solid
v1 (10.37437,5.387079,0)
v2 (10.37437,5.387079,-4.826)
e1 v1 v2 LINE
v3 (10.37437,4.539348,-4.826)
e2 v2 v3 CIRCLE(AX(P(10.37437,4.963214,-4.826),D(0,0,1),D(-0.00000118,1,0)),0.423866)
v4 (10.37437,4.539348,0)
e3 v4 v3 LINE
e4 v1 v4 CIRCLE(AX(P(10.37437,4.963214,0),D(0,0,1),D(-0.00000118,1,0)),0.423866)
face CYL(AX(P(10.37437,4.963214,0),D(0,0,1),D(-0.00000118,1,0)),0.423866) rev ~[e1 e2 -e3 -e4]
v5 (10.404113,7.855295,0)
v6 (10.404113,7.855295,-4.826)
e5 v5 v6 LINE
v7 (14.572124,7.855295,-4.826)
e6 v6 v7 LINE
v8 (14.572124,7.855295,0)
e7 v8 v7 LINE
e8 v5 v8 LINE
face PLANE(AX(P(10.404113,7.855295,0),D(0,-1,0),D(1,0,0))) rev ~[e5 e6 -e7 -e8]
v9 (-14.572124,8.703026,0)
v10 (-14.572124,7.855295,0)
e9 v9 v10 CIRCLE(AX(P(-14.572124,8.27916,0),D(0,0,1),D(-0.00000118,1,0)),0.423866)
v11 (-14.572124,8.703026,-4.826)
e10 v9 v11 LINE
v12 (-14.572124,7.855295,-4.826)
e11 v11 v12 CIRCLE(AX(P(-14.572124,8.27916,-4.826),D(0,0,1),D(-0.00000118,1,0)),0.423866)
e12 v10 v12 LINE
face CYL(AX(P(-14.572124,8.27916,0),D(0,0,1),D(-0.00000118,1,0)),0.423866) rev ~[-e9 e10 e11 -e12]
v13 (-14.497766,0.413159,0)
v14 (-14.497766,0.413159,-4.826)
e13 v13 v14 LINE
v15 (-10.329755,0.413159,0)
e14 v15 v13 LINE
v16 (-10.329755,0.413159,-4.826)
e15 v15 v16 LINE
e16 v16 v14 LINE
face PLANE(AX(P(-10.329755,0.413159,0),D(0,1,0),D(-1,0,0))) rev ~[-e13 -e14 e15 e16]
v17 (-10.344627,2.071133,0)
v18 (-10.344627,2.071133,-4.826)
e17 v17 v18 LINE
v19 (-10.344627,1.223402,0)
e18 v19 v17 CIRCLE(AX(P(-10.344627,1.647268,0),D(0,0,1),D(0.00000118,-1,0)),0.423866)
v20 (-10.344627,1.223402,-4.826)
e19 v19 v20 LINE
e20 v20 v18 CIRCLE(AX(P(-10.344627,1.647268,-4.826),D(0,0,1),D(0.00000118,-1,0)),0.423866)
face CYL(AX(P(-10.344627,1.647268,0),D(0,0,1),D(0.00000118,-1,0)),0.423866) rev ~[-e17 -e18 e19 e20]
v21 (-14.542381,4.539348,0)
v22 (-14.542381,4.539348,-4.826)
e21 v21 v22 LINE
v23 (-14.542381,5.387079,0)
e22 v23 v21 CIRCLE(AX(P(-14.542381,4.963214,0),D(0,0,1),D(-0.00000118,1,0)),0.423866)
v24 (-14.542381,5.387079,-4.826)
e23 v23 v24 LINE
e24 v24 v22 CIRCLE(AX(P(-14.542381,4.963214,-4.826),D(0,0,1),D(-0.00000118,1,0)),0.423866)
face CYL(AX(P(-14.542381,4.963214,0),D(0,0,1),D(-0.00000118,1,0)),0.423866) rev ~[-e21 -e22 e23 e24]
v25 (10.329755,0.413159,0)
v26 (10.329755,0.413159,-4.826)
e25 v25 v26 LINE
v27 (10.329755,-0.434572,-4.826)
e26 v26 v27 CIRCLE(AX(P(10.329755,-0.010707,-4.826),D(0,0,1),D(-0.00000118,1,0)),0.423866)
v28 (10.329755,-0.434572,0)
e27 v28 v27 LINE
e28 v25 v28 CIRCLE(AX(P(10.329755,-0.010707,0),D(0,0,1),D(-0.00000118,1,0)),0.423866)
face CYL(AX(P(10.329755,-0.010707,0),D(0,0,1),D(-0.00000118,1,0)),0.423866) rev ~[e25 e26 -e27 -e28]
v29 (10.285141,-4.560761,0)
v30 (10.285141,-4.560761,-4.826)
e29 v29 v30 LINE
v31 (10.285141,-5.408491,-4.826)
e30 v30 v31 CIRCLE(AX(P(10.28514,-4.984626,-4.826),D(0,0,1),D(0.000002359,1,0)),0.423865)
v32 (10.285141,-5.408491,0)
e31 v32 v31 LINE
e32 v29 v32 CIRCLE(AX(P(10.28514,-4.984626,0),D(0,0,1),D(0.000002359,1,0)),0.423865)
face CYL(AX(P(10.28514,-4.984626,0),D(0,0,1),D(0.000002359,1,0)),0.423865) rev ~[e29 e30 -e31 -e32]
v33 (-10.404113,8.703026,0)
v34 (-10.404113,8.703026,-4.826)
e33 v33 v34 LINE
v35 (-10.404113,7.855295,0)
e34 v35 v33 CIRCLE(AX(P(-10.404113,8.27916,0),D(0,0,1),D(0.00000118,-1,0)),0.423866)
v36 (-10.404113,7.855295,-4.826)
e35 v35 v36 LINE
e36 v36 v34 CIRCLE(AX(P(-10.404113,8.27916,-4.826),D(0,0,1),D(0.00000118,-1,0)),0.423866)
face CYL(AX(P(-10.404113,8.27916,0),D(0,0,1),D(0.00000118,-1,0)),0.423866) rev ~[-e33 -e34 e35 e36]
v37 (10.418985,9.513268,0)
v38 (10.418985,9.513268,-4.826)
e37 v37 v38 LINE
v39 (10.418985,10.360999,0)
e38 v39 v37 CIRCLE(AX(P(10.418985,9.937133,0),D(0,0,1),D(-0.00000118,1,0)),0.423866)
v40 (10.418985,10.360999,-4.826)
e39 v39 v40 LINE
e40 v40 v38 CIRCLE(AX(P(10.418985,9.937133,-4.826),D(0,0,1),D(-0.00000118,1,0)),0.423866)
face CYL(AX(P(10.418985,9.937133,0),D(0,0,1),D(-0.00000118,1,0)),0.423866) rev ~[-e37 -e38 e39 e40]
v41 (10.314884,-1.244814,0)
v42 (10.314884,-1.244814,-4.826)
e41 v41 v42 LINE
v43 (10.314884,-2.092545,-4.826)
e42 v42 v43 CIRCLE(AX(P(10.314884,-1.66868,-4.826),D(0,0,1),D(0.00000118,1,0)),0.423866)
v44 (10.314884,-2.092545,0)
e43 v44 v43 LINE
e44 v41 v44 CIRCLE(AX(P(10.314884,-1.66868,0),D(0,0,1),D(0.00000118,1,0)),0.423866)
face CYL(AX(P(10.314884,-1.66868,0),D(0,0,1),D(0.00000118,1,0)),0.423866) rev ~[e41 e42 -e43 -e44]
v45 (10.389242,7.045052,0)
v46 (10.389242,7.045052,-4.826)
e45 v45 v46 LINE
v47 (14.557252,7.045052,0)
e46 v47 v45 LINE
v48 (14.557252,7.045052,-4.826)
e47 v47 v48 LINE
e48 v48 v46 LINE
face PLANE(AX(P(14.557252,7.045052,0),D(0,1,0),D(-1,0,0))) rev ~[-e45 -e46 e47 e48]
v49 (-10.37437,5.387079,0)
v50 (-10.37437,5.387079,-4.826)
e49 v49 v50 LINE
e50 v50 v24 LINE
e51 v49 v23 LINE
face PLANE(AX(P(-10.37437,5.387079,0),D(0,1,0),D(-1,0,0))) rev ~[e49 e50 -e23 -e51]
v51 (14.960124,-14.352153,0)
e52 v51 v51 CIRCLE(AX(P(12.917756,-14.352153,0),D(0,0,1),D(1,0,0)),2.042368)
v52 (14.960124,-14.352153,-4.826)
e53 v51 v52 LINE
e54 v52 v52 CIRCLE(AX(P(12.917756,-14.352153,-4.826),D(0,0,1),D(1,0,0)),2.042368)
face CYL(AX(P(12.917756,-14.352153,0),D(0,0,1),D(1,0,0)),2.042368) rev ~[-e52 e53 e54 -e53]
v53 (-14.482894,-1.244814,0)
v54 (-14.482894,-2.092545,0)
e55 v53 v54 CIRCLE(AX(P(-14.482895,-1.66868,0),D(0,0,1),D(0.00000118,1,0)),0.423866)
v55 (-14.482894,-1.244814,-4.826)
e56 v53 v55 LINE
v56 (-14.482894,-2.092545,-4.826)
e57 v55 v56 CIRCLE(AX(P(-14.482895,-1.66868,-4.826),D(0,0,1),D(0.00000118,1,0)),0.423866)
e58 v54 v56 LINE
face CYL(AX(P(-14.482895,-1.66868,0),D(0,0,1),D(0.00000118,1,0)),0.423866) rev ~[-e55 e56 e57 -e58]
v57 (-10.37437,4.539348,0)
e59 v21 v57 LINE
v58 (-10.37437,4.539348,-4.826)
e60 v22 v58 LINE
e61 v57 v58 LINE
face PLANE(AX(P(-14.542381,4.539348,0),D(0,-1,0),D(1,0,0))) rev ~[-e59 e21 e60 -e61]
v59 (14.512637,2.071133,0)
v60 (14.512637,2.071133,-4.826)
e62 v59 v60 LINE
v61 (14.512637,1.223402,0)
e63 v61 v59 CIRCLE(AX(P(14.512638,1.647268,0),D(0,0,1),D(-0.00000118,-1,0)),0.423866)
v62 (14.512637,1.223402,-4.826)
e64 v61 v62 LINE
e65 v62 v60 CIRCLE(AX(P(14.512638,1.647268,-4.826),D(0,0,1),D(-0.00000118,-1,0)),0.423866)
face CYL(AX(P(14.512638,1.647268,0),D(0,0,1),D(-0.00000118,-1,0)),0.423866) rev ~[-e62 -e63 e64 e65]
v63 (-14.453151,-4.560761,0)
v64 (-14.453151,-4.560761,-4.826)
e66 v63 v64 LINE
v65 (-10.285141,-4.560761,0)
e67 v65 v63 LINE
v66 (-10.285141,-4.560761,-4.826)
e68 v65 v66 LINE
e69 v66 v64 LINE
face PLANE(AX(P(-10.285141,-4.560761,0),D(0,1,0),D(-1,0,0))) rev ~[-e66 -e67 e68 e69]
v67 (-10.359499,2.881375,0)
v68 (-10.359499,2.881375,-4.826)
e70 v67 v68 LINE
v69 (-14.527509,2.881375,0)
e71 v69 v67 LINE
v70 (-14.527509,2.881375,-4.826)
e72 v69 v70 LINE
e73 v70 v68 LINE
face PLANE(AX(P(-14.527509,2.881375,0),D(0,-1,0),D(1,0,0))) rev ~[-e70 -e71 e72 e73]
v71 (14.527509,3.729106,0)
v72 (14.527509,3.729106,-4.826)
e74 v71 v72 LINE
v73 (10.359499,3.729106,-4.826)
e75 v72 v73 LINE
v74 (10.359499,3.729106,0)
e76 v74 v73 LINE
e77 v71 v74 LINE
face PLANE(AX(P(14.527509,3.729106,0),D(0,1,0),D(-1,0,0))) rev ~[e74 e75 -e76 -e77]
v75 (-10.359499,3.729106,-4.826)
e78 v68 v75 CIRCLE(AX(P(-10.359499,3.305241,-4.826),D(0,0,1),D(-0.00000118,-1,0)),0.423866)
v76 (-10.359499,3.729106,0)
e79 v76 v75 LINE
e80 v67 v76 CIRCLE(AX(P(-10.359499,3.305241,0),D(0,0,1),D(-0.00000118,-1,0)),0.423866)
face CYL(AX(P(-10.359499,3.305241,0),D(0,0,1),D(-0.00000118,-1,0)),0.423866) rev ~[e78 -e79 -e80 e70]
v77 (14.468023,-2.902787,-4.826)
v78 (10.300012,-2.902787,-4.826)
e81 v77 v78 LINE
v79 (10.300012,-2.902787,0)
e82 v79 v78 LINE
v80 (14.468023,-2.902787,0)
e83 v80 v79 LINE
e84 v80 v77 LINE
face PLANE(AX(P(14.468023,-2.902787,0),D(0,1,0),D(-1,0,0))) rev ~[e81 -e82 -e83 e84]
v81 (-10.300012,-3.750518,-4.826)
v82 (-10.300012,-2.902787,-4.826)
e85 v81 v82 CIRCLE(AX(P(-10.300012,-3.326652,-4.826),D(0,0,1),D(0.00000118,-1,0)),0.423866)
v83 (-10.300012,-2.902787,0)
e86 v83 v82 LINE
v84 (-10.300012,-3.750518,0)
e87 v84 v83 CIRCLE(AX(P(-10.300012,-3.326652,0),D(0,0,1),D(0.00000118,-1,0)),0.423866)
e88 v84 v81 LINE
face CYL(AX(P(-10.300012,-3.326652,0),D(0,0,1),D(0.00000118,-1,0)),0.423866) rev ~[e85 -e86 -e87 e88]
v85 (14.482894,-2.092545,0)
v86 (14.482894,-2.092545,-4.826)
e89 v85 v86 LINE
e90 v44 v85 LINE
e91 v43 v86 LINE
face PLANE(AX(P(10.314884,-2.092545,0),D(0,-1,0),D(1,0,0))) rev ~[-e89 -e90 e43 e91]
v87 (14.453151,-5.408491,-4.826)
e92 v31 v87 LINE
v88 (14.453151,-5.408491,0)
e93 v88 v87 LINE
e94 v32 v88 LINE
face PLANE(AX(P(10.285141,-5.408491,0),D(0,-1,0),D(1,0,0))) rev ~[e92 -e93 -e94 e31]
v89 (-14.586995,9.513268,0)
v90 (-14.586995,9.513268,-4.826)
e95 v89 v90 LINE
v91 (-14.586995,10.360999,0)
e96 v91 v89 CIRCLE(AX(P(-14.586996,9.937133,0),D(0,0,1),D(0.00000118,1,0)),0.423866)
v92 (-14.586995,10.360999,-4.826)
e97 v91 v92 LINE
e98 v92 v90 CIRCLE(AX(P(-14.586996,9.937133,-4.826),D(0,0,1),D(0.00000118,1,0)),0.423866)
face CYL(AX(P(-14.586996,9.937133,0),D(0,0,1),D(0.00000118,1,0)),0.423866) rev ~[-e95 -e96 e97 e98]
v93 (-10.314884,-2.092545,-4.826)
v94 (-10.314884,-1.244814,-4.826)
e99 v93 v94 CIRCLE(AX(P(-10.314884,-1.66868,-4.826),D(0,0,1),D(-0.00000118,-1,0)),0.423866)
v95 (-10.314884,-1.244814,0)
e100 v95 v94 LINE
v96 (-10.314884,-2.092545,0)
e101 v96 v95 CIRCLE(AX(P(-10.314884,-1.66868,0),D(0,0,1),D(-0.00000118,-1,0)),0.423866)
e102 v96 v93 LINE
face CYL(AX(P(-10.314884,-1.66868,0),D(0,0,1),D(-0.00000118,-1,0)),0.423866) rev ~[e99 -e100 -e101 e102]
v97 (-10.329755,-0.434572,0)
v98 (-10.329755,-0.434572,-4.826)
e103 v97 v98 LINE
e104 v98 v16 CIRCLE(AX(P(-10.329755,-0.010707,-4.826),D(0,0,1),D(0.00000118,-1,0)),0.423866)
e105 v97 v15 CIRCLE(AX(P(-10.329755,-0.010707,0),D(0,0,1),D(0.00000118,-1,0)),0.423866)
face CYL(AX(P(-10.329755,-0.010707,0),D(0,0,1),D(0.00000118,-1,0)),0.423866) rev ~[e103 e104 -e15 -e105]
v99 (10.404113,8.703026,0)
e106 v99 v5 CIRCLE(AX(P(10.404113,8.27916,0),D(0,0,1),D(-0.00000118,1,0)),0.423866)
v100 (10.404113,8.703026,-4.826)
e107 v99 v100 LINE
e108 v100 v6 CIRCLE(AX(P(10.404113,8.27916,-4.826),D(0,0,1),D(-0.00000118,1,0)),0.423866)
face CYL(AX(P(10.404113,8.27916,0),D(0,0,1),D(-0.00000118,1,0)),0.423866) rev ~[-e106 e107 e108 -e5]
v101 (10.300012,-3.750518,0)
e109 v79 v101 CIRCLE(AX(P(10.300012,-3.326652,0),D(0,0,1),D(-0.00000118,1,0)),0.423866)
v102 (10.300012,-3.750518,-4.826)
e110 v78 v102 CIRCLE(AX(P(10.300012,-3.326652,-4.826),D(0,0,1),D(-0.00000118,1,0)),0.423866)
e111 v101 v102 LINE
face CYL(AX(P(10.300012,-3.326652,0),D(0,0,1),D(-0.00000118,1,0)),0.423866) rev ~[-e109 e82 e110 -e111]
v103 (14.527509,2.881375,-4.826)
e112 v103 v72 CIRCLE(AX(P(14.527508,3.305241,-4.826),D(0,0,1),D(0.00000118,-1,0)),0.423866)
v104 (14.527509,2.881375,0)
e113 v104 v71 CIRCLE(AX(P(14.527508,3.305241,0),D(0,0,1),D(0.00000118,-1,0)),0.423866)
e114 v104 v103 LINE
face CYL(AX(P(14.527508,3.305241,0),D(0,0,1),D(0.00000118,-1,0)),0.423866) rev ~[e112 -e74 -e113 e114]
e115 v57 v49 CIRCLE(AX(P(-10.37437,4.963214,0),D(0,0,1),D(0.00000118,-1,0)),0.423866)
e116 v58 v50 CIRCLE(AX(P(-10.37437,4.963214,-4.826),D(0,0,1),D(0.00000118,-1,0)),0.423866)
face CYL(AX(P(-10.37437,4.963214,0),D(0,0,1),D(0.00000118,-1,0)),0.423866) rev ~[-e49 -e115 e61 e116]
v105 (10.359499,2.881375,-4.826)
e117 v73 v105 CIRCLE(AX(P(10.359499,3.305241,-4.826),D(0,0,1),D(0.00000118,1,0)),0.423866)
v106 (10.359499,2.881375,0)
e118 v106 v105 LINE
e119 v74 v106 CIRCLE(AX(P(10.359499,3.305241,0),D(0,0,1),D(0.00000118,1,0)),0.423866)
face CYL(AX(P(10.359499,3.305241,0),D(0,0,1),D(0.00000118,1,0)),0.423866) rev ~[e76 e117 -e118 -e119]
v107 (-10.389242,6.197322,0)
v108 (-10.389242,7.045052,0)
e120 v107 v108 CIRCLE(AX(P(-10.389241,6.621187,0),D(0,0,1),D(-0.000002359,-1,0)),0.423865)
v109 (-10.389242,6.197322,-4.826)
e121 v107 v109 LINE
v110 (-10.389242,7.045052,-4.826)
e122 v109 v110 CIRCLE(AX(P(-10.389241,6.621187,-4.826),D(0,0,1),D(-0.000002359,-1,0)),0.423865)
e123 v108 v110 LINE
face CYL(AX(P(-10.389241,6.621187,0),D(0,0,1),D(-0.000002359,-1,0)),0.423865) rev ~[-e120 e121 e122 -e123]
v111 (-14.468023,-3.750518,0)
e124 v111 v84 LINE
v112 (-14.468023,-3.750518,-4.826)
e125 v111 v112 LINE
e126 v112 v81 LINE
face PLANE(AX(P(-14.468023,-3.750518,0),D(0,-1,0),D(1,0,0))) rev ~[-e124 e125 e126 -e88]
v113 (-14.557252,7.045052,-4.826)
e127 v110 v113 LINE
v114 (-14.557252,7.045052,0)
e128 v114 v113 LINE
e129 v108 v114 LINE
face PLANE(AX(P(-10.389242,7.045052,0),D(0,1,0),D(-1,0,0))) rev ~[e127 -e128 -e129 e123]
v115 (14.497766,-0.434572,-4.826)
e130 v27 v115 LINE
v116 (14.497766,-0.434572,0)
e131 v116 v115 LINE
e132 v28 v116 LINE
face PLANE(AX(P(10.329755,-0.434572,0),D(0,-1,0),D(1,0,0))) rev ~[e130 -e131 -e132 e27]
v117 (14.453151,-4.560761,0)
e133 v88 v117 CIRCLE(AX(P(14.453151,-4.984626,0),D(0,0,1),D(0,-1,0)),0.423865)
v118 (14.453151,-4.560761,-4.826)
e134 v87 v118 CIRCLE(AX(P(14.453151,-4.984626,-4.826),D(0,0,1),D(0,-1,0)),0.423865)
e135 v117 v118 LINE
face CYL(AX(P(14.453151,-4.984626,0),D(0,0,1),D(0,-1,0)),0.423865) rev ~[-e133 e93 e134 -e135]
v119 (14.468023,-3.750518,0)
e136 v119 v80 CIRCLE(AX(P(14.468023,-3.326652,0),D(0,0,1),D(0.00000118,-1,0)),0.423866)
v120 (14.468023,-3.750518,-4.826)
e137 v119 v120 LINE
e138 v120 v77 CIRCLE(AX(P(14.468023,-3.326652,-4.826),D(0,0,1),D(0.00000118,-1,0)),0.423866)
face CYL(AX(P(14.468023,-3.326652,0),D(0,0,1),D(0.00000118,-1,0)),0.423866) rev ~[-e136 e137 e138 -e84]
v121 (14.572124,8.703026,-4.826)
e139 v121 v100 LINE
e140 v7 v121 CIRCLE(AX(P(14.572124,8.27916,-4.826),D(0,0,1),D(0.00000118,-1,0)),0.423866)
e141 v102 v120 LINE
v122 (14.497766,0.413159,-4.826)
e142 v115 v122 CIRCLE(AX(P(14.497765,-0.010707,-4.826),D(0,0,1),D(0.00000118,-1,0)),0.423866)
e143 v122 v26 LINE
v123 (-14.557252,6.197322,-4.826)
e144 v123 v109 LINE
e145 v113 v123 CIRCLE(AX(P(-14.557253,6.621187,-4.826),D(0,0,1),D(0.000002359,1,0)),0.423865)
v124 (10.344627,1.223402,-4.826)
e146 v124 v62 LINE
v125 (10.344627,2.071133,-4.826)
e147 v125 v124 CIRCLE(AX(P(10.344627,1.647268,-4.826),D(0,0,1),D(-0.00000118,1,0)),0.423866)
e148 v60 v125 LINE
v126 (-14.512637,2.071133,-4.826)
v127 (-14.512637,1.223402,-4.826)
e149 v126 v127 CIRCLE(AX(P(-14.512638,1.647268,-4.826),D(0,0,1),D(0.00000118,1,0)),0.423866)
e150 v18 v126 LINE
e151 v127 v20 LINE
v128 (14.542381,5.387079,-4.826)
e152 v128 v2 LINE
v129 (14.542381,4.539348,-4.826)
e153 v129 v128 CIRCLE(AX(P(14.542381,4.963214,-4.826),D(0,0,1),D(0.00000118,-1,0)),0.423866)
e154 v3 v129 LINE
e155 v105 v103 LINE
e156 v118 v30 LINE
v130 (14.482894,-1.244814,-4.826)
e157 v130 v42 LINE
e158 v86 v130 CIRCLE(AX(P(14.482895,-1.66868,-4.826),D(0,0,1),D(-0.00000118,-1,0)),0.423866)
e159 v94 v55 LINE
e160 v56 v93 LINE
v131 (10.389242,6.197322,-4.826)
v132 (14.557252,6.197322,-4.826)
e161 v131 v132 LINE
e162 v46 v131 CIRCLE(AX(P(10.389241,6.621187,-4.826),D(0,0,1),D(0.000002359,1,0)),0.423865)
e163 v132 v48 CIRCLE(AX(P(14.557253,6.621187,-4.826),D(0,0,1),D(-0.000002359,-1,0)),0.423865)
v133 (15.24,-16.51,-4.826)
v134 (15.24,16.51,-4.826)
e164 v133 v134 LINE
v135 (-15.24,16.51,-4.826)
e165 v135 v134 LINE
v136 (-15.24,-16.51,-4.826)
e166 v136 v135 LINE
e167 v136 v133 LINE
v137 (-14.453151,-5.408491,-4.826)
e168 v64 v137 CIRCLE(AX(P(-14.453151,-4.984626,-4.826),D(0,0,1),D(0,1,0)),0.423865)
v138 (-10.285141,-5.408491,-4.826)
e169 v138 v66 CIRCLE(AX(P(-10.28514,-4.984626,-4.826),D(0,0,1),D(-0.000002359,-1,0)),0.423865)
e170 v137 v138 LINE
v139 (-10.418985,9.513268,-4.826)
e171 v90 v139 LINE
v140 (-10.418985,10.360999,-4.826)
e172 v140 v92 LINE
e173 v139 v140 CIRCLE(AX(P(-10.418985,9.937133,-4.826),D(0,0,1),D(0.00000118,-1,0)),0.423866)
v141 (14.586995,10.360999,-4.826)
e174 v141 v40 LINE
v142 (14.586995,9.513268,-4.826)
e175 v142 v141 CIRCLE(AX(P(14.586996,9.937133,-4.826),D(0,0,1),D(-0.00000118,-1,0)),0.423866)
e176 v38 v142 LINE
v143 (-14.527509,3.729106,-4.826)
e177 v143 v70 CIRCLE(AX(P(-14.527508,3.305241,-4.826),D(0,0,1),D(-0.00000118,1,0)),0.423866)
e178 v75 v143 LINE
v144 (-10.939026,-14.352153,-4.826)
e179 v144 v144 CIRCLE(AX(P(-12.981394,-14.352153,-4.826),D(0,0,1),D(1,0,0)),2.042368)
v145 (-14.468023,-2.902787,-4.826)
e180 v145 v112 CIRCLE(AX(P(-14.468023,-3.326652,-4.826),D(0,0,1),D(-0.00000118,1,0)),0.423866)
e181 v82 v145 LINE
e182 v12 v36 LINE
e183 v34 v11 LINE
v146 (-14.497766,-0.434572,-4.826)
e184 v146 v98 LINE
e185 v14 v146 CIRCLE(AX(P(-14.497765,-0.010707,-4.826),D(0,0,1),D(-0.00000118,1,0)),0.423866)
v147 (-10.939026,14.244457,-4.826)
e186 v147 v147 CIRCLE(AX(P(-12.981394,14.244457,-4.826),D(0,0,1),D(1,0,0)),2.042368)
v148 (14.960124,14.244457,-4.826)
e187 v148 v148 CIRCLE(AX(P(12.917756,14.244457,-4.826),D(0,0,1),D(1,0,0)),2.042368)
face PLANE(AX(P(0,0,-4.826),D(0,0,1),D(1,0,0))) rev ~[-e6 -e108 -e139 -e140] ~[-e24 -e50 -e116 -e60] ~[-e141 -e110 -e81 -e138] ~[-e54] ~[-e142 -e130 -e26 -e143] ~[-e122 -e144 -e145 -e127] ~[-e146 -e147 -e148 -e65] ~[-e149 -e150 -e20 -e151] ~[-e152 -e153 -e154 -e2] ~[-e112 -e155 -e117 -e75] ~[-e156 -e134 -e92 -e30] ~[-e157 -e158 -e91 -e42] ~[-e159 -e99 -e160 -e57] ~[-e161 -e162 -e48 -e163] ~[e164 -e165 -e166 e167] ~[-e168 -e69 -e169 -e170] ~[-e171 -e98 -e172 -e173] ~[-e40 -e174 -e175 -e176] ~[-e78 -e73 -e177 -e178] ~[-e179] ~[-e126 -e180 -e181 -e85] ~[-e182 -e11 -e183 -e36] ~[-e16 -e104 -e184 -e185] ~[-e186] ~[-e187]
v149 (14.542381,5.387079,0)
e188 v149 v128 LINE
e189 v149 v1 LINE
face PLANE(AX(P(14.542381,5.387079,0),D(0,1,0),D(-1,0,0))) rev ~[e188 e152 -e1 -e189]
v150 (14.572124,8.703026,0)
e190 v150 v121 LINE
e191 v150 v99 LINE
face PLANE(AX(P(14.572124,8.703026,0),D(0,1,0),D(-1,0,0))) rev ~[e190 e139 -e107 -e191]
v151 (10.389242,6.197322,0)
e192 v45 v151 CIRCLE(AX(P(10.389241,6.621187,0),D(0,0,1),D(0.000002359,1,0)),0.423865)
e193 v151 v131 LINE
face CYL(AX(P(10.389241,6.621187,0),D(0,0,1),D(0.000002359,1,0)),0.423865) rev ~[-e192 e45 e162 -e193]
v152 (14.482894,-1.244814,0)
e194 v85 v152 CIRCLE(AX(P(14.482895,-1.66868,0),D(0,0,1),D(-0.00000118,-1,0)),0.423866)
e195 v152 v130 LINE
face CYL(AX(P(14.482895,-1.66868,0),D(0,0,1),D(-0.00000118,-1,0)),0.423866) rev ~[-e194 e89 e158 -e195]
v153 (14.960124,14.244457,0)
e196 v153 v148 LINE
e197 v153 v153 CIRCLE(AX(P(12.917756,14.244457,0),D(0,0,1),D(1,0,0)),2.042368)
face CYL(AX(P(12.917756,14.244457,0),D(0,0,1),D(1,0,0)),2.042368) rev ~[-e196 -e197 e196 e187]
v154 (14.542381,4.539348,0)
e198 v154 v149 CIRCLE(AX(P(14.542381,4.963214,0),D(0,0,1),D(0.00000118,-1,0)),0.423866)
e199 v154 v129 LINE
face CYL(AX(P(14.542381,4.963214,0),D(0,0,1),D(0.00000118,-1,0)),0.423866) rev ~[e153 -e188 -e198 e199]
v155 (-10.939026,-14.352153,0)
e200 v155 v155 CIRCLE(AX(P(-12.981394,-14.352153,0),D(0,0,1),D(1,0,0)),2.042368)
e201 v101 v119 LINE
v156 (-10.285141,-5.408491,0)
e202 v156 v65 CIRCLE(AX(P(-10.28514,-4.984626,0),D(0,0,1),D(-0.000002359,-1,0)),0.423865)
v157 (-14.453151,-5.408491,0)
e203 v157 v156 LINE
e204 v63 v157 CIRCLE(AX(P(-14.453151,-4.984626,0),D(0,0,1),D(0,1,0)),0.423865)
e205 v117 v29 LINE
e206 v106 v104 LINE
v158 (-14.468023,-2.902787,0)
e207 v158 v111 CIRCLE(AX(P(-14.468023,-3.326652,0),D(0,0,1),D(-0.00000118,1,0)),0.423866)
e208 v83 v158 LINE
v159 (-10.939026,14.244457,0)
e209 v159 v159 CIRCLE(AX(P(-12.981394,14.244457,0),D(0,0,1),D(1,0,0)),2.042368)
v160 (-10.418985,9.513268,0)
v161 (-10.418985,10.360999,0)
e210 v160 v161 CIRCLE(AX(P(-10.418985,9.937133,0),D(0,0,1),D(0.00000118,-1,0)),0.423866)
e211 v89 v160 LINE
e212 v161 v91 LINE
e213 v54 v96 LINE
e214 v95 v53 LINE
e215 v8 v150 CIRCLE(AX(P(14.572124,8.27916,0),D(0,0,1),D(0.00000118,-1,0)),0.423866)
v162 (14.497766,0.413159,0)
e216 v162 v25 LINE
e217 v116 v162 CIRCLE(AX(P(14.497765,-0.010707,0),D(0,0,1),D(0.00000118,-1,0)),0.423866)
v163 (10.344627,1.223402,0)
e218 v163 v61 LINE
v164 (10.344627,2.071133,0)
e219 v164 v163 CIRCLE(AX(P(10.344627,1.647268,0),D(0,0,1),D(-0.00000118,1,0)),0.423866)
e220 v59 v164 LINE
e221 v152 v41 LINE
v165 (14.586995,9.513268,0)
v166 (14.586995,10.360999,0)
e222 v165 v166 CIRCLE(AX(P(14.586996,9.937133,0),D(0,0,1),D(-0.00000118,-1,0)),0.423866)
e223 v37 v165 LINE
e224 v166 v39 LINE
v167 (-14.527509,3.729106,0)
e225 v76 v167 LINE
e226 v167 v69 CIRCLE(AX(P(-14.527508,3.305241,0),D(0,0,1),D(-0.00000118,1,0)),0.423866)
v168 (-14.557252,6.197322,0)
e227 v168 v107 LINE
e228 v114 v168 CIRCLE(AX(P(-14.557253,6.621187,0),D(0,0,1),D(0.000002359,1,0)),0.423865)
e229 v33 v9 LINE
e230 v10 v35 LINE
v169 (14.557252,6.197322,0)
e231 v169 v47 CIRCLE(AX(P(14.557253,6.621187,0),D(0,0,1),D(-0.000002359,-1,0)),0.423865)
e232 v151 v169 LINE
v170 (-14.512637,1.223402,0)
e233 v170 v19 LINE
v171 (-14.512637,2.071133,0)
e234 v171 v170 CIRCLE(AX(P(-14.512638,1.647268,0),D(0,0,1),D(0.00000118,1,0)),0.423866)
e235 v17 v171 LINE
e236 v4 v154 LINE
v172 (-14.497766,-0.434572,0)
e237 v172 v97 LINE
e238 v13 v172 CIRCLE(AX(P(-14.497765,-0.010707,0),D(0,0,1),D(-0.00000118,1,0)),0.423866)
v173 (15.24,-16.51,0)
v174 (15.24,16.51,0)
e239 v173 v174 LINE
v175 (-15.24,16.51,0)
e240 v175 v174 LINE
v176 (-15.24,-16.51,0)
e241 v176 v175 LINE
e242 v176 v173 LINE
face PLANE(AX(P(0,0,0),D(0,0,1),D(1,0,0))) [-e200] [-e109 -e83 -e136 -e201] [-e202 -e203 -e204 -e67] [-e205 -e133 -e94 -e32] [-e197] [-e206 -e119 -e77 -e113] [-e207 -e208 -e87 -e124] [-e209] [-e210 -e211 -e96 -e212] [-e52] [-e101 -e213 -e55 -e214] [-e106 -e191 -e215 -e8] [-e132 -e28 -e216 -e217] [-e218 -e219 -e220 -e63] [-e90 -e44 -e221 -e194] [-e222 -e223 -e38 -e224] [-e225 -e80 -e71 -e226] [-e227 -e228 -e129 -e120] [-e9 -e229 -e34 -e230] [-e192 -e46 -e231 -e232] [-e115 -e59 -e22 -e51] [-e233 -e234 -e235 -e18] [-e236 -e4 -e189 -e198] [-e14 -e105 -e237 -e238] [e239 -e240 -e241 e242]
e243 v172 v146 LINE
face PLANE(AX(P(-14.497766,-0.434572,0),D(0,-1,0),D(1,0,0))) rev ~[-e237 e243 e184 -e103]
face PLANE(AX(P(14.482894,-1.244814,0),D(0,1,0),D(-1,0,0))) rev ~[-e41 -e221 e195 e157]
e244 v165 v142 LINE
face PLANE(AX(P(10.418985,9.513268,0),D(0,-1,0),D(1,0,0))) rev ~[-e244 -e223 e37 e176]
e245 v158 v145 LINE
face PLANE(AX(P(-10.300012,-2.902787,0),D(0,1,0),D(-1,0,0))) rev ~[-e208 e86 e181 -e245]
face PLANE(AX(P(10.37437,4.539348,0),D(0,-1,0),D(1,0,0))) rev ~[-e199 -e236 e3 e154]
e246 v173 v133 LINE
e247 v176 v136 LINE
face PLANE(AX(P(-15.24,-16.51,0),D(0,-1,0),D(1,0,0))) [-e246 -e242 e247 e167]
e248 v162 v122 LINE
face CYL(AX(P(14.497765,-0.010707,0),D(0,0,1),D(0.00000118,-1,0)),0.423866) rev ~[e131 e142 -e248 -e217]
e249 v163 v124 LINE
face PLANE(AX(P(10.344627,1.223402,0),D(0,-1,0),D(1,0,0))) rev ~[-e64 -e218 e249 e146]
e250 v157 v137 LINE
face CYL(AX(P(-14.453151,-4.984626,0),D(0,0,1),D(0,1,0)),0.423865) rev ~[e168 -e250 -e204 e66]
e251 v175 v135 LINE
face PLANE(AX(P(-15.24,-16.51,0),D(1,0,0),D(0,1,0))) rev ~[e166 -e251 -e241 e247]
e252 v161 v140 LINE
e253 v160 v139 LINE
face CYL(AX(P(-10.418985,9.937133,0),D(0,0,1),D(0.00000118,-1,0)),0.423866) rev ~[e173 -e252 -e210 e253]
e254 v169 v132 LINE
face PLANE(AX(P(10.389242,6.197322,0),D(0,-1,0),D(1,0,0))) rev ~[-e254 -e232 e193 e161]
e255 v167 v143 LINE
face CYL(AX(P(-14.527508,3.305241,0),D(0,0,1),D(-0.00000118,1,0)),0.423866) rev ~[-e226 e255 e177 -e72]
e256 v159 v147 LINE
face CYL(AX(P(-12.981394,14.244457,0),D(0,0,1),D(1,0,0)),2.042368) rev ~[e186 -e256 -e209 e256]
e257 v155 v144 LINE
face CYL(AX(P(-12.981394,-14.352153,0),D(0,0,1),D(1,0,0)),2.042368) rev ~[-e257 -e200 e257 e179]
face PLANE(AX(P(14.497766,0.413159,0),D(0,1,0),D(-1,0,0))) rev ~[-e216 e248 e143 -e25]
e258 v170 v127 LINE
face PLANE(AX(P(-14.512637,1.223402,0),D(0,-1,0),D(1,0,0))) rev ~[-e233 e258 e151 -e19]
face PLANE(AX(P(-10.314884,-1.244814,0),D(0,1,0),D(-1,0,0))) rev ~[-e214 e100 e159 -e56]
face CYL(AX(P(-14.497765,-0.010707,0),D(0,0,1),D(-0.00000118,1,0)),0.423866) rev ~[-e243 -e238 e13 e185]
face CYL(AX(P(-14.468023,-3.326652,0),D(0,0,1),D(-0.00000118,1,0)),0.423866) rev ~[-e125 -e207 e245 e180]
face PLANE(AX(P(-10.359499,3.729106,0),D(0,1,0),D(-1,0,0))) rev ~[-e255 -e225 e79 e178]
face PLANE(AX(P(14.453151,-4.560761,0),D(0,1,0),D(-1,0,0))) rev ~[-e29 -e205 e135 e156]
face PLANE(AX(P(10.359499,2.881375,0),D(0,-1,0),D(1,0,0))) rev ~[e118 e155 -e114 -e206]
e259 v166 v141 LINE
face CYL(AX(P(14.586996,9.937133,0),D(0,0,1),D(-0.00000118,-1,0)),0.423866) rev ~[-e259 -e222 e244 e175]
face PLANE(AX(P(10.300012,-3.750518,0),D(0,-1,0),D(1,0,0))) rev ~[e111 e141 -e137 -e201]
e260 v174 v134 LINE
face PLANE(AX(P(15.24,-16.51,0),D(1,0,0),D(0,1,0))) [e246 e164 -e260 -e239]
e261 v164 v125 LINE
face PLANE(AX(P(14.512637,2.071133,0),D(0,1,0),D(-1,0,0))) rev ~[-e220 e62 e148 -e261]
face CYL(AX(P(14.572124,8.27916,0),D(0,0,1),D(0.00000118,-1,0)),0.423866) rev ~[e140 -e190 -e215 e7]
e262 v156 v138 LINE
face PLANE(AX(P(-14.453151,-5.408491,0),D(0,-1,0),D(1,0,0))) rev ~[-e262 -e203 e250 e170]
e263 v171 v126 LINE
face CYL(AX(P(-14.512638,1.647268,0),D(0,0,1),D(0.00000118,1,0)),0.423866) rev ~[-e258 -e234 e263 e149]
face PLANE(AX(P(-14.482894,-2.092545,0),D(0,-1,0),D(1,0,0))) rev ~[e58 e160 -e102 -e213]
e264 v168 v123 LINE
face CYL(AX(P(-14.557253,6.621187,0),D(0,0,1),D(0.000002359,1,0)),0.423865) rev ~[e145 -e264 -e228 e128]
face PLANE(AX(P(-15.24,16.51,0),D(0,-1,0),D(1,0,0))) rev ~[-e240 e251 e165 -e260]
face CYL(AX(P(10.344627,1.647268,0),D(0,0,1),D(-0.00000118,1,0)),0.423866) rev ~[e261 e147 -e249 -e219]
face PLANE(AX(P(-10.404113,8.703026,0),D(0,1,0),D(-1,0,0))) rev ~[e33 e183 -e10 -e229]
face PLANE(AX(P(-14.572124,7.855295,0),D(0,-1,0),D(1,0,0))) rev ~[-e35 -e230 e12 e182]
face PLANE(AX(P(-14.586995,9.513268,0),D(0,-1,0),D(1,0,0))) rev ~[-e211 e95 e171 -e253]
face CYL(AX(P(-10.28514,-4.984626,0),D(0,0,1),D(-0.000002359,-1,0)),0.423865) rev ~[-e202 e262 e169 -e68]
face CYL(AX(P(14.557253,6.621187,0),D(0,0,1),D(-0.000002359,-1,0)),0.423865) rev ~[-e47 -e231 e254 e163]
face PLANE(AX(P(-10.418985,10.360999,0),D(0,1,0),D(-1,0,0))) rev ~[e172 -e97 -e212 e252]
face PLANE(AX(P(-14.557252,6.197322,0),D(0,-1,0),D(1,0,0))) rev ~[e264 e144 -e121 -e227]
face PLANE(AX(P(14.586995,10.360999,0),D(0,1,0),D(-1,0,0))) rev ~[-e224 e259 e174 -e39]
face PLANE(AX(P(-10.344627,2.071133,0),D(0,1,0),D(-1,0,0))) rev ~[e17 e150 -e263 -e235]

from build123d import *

# Parameters (mm, degrees)
F0_W     = 30.48
F0_H     = 33.02
F1_DEPTH = 4.826
F2_R     = 2.042368
F3_DEPTH = 9.33468
F5_DEPTH = 25


with BuildPart() as f1:
    # F0 (on Top) → F1 (new body)
    with BuildSketch(Plane.XY):
        Rectangle(F0_W, F0_H)
    extrude(amount=-F1_DEPTH)

    # F2 (on face) → F3 (cut)
    with BuildSketch(Plane.XY):
        with Locations((-12.981394, 14.244457)):
            Circle(F2_R)
        with Locations((12.917756, 14.244457)):
            Circle(F2_R)
        with Locations((-12.981394, -14.352153)):
            Circle(F2_R)
        with Locations((12.917756, -14.352153)):
            Circle(F2_R)
    extrude(amount=-F3_DEPTH, mode=Mode.SUBTRACT)

    # F4 (on face) → F5 (cut)
    with BuildSketch(Plane.XY):
        with BuildLine():
            Line((-10.418985, 10.360999), (-14.586995, 10.360999))
            ThreePointArc((-14.586995, 10.360999), (-15.010861, 9.937134), (-14.586995, 9.513268))
            Line((-14.586995, 9.513268), (-10.418985, 9.513268))
            ThreePointArc((-10.418985, 9.513268), (-9.99512, 9.937134), (-10.418985, 10.360999))
        make_face()
        with BuildLine():
            Line((-10.404113, 8.703026), (-14.572124, 8.703026))
            ThreePointArc((-14.572124, 8.703026), (-14.995989, 8.27916), (-14.572124, 7.855295))
            Line((-14.572124, 7.855295), (-10.404113, 7.855295))
            ThreePointArc((-10.404113, 7.855295), (-9.980248, 8.27916), (-10.404113, 8.703026))
        make_face()
        with BuildLine():
            Line((-10.389242, 7.045052), (-14.557252, 7.045052))
            ThreePointArc((-14.557252, 7.045052), (-14.981118, 6.621187), (-14.557252, 6.197322))
            Line((-14.557252, 6.197322), (-10.389242, 6.197322))
            ThreePointArc((-10.389242, 6.197322), (-9.965376, 6.621187), (-10.389242, 7.045052))
        make_face()
        with BuildLine():
            Line((-10.37437, 5.387079), (-14.542381, 5.387079))
            ThreePointArc((-14.542381, 5.387079), (-14.966246, 4.963214), (-14.542381, 4.539348))
            Line((-14.542381, 4.539348), (-10.37437, 4.539348))
            ThreePointArc((-10.37437, 4.539348), (-9.950505, 4.963214), (-10.37437, 5.387079))
        make_face()
        with BuildLine():
            Line((-10.359499, 3.729106), (-14.527509, 3.729106))
            ThreePointArc((-14.527509, 3.729106), (-14.951374, 3.30524), (-14.527509, 2.881375))
            Line((-14.527509, 2.881375), (-10.359499, 2.881375))
            ThreePointArc((-10.359499, 2.881375), (-9.935633, 3.30524), (-10.359499, 3.729106))
        make_face()
        with BuildLine():
            Line((-10.344627, 2.071133), (-14.512637, 2.071133))
            ThreePointArc((-14.512637, 2.071133), (-14.936503, 1.647267), (-14.512637, 1.223402))
            Line((-14.512637, 1.223402), (-10.344627, 1.223402))
            ThreePointArc((-10.344627, 1.223402), (-9.920762, 1.647267), (-10.344627, 2.071133))
        make_face()
        with BuildLine():
            Line((-10.329755, 0.413159), (-14.497766, 0.413159))
            ThreePointArc((-14.497766, 0.413159), (-14.921631, -0.010706), (-14.497766, -0.434572))
            Line((-14.497766, -0.434572), (-10.329755, -0.434572))
            ThreePointArc((-10.329755, -0.434572), (-9.90589, -0.010706), (-10.329755, 0.413159))
        make_face()
        with BuildLine():
            Line((-10.314884, -1.244814), (-14.482894, -1.244814))
            ThreePointArc((-14.482894, -1.244814), (-14.90676, -1.668679), (-14.482894, -2.092545))
            Line((-14.482894, -2.092545), (-10.314884, -2.092545))
            ThreePointArc((-10.314884, -2.092545), (-9.891018, -1.668679), (-10.314884, -1.244814))
        make_face()
        with BuildLine():
            Line((-10.300012, -2.902787), (-14.468023, -2.902787))
            ThreePointArc((-14.468023, -2.902787), (-14.891888, -3.326653), (-14.468023, -3.750518))
            Line((-14.468023, -3.750518), (-10.300012, -3.750518))
            ThreePointArc((-10.300012, -3.750518), (-9.876147, -3.326653), (-10.300012, -2.902787))
        make_face()
        with BuildLine():
            Line((-10.285141, -4.560761), (-14.453151, -4.560761))
            ThreePointArc((-14.453151, -4.560761), (-14.877016, -4.984626), (-14.453151, -5.408491))
            Line((-14.453151, -5.408491), (-10.285141, -5.408491))
            ThreePointArc((-10.285141, -5.408491), (-9.861275, -4.984626), (-10.285141, -4.560761))
        make_face()
        with BuildLine():
            ThreePointArc((14.586995, 9.513268), (15.010861, 9.937134), (14.586995, 10.360999))
            Line((14.586995, 10.360999), (10.418985, 10.360999))
            ThreePointArc((10.418985, 10.360999), (9.99512, 9.937134), (10.418985, 9.513268))
            Line((10.418985, 9.513268), (14.586995, 9.513268))
        make_face()
        with BuildLine():
            ThreePointArc((14.572124, 7.855295), (14.995989, 8.27916), (14.572124, 8.703026))
            Line((14.572124, 8.703026), (10.404113, 8.703026))
            ThreePointArc((10.404113, 8.703026), (9.980248, 8.27916), (10.404113, 7.855295))
            Line((10.404113, 7.855295), (14.572124, 7.855295))
        make_face()
        with BuildLine():
            ThreePointArc((14.557252, 6.197322), (14.981118, 6.621187), (14.557252, 7.045052))
            Line((14.557252, 7.045052), (10.389242, 7.045052))
            ThreePointArc((10.389242, 7.045052), (9.965376, 6.621187), (10.389242, 6.197322))
            Line((10.389242, 6.197322), (14.557252, 6.197322))
        make_face()
        with BuildLine():
            ThreePointArc((14.542381, 4.539348), (14.966246, 4.963214), (14.542381, 5.387079))
            Line((14.542381, 5.387079), (10.37437, 5.387079))
            ThreePointArc((10.37437, 5.387079), (9.950505, 4.963214), (10.37437, 4.539348))
            Line((10.37437, 4.539348), (14.542381, 4.539348))
        make_face()
        with BuildLine():
            ThreePointArc((14.527509, 2.881375), (14.951374, 3.30524), (14.527509, 3.729106))
            Line((14.527509, 3.729106), (10.359499, 3.729106))
            ThreePointArc((10.359499, 3.729106), (9.935633, 3.30524), (10.359499, 2.881375))
            Line((10.359499, 2.881375), (14.527509, 2.881375))
        make_face()
        with BuildLine():
            ThreePointArc((14.512637, 1.223402), (14.936503, 1.647267), (14.512637, 2.071133))
            Line((14.512637, 2.071133), (10.344627, 2.071133))
            ThreePointArc((10.344627, 2.071133), (9.920762, 1.647267), (10.344627, 1.223402))
            Line((10.344627, 1.223402), (14.512637, 1.223402))
        make_face()
        with BuildLine():
            ThreePointArc((14.497766, -0.434572), (14.921631, -0.010706), (14.497766, 0.413159))
            Line((14.497766, 0.413159), (10.329755, 0.413159))
            ThreePointArc((10.329755, 0.413159), (9.90589, -0.010706), (10.329755, -0.434572))
            Line((10.329755, -0.434572), (14.497766, -0.434572))
        make_face()
        with BuildLine():
            ThreePointArc((14.482894, -2.092545), (14.90676, -1.668679), (14.482894, -1.244814))
            Line((14.482894, -1.244814), (10.314884, -1.244814))
            ThreePointArc((10.314884, -1.244814), (9.891018, -1.668679), (10.314884, -2.092545))
            Line((10.314884, -2.092545), (14.482894, -2.092545))
        make_face()
        with BuildLine():
            ThreePointArc((14.468023, -3.750518), (14.891888, -3.326653), (14.468023, -2.902787))
            Line((14.468023, -2.902787), (10.300012, -2.902787))
            ThreePointArc((10.300012, -2.902787), (9.876147, -3.326653), (10.300012, -3.750518))
            Line((10.300012, -3.750518), (14.468023, -3.750518))
        make_face()
        with BuildLine():
            ThreePointArc((14.453151, -5.408491), (14.877016, -4.984626), (14.453151, -4.560761))
            Line((14.453151, -4.560761), (10.285141, -4.560761))
            ThreePointArc((10.285141, -4.560761), (9.861275, -4.984626), (10.285141, -5.408491))
            Line((10.285141, -5.408491), (14.453151, -5.408491))
        make_face()
    extrude(amount=-F5_DEPTH, mode=Mode.SUBTRACT)


solid = f1.part
